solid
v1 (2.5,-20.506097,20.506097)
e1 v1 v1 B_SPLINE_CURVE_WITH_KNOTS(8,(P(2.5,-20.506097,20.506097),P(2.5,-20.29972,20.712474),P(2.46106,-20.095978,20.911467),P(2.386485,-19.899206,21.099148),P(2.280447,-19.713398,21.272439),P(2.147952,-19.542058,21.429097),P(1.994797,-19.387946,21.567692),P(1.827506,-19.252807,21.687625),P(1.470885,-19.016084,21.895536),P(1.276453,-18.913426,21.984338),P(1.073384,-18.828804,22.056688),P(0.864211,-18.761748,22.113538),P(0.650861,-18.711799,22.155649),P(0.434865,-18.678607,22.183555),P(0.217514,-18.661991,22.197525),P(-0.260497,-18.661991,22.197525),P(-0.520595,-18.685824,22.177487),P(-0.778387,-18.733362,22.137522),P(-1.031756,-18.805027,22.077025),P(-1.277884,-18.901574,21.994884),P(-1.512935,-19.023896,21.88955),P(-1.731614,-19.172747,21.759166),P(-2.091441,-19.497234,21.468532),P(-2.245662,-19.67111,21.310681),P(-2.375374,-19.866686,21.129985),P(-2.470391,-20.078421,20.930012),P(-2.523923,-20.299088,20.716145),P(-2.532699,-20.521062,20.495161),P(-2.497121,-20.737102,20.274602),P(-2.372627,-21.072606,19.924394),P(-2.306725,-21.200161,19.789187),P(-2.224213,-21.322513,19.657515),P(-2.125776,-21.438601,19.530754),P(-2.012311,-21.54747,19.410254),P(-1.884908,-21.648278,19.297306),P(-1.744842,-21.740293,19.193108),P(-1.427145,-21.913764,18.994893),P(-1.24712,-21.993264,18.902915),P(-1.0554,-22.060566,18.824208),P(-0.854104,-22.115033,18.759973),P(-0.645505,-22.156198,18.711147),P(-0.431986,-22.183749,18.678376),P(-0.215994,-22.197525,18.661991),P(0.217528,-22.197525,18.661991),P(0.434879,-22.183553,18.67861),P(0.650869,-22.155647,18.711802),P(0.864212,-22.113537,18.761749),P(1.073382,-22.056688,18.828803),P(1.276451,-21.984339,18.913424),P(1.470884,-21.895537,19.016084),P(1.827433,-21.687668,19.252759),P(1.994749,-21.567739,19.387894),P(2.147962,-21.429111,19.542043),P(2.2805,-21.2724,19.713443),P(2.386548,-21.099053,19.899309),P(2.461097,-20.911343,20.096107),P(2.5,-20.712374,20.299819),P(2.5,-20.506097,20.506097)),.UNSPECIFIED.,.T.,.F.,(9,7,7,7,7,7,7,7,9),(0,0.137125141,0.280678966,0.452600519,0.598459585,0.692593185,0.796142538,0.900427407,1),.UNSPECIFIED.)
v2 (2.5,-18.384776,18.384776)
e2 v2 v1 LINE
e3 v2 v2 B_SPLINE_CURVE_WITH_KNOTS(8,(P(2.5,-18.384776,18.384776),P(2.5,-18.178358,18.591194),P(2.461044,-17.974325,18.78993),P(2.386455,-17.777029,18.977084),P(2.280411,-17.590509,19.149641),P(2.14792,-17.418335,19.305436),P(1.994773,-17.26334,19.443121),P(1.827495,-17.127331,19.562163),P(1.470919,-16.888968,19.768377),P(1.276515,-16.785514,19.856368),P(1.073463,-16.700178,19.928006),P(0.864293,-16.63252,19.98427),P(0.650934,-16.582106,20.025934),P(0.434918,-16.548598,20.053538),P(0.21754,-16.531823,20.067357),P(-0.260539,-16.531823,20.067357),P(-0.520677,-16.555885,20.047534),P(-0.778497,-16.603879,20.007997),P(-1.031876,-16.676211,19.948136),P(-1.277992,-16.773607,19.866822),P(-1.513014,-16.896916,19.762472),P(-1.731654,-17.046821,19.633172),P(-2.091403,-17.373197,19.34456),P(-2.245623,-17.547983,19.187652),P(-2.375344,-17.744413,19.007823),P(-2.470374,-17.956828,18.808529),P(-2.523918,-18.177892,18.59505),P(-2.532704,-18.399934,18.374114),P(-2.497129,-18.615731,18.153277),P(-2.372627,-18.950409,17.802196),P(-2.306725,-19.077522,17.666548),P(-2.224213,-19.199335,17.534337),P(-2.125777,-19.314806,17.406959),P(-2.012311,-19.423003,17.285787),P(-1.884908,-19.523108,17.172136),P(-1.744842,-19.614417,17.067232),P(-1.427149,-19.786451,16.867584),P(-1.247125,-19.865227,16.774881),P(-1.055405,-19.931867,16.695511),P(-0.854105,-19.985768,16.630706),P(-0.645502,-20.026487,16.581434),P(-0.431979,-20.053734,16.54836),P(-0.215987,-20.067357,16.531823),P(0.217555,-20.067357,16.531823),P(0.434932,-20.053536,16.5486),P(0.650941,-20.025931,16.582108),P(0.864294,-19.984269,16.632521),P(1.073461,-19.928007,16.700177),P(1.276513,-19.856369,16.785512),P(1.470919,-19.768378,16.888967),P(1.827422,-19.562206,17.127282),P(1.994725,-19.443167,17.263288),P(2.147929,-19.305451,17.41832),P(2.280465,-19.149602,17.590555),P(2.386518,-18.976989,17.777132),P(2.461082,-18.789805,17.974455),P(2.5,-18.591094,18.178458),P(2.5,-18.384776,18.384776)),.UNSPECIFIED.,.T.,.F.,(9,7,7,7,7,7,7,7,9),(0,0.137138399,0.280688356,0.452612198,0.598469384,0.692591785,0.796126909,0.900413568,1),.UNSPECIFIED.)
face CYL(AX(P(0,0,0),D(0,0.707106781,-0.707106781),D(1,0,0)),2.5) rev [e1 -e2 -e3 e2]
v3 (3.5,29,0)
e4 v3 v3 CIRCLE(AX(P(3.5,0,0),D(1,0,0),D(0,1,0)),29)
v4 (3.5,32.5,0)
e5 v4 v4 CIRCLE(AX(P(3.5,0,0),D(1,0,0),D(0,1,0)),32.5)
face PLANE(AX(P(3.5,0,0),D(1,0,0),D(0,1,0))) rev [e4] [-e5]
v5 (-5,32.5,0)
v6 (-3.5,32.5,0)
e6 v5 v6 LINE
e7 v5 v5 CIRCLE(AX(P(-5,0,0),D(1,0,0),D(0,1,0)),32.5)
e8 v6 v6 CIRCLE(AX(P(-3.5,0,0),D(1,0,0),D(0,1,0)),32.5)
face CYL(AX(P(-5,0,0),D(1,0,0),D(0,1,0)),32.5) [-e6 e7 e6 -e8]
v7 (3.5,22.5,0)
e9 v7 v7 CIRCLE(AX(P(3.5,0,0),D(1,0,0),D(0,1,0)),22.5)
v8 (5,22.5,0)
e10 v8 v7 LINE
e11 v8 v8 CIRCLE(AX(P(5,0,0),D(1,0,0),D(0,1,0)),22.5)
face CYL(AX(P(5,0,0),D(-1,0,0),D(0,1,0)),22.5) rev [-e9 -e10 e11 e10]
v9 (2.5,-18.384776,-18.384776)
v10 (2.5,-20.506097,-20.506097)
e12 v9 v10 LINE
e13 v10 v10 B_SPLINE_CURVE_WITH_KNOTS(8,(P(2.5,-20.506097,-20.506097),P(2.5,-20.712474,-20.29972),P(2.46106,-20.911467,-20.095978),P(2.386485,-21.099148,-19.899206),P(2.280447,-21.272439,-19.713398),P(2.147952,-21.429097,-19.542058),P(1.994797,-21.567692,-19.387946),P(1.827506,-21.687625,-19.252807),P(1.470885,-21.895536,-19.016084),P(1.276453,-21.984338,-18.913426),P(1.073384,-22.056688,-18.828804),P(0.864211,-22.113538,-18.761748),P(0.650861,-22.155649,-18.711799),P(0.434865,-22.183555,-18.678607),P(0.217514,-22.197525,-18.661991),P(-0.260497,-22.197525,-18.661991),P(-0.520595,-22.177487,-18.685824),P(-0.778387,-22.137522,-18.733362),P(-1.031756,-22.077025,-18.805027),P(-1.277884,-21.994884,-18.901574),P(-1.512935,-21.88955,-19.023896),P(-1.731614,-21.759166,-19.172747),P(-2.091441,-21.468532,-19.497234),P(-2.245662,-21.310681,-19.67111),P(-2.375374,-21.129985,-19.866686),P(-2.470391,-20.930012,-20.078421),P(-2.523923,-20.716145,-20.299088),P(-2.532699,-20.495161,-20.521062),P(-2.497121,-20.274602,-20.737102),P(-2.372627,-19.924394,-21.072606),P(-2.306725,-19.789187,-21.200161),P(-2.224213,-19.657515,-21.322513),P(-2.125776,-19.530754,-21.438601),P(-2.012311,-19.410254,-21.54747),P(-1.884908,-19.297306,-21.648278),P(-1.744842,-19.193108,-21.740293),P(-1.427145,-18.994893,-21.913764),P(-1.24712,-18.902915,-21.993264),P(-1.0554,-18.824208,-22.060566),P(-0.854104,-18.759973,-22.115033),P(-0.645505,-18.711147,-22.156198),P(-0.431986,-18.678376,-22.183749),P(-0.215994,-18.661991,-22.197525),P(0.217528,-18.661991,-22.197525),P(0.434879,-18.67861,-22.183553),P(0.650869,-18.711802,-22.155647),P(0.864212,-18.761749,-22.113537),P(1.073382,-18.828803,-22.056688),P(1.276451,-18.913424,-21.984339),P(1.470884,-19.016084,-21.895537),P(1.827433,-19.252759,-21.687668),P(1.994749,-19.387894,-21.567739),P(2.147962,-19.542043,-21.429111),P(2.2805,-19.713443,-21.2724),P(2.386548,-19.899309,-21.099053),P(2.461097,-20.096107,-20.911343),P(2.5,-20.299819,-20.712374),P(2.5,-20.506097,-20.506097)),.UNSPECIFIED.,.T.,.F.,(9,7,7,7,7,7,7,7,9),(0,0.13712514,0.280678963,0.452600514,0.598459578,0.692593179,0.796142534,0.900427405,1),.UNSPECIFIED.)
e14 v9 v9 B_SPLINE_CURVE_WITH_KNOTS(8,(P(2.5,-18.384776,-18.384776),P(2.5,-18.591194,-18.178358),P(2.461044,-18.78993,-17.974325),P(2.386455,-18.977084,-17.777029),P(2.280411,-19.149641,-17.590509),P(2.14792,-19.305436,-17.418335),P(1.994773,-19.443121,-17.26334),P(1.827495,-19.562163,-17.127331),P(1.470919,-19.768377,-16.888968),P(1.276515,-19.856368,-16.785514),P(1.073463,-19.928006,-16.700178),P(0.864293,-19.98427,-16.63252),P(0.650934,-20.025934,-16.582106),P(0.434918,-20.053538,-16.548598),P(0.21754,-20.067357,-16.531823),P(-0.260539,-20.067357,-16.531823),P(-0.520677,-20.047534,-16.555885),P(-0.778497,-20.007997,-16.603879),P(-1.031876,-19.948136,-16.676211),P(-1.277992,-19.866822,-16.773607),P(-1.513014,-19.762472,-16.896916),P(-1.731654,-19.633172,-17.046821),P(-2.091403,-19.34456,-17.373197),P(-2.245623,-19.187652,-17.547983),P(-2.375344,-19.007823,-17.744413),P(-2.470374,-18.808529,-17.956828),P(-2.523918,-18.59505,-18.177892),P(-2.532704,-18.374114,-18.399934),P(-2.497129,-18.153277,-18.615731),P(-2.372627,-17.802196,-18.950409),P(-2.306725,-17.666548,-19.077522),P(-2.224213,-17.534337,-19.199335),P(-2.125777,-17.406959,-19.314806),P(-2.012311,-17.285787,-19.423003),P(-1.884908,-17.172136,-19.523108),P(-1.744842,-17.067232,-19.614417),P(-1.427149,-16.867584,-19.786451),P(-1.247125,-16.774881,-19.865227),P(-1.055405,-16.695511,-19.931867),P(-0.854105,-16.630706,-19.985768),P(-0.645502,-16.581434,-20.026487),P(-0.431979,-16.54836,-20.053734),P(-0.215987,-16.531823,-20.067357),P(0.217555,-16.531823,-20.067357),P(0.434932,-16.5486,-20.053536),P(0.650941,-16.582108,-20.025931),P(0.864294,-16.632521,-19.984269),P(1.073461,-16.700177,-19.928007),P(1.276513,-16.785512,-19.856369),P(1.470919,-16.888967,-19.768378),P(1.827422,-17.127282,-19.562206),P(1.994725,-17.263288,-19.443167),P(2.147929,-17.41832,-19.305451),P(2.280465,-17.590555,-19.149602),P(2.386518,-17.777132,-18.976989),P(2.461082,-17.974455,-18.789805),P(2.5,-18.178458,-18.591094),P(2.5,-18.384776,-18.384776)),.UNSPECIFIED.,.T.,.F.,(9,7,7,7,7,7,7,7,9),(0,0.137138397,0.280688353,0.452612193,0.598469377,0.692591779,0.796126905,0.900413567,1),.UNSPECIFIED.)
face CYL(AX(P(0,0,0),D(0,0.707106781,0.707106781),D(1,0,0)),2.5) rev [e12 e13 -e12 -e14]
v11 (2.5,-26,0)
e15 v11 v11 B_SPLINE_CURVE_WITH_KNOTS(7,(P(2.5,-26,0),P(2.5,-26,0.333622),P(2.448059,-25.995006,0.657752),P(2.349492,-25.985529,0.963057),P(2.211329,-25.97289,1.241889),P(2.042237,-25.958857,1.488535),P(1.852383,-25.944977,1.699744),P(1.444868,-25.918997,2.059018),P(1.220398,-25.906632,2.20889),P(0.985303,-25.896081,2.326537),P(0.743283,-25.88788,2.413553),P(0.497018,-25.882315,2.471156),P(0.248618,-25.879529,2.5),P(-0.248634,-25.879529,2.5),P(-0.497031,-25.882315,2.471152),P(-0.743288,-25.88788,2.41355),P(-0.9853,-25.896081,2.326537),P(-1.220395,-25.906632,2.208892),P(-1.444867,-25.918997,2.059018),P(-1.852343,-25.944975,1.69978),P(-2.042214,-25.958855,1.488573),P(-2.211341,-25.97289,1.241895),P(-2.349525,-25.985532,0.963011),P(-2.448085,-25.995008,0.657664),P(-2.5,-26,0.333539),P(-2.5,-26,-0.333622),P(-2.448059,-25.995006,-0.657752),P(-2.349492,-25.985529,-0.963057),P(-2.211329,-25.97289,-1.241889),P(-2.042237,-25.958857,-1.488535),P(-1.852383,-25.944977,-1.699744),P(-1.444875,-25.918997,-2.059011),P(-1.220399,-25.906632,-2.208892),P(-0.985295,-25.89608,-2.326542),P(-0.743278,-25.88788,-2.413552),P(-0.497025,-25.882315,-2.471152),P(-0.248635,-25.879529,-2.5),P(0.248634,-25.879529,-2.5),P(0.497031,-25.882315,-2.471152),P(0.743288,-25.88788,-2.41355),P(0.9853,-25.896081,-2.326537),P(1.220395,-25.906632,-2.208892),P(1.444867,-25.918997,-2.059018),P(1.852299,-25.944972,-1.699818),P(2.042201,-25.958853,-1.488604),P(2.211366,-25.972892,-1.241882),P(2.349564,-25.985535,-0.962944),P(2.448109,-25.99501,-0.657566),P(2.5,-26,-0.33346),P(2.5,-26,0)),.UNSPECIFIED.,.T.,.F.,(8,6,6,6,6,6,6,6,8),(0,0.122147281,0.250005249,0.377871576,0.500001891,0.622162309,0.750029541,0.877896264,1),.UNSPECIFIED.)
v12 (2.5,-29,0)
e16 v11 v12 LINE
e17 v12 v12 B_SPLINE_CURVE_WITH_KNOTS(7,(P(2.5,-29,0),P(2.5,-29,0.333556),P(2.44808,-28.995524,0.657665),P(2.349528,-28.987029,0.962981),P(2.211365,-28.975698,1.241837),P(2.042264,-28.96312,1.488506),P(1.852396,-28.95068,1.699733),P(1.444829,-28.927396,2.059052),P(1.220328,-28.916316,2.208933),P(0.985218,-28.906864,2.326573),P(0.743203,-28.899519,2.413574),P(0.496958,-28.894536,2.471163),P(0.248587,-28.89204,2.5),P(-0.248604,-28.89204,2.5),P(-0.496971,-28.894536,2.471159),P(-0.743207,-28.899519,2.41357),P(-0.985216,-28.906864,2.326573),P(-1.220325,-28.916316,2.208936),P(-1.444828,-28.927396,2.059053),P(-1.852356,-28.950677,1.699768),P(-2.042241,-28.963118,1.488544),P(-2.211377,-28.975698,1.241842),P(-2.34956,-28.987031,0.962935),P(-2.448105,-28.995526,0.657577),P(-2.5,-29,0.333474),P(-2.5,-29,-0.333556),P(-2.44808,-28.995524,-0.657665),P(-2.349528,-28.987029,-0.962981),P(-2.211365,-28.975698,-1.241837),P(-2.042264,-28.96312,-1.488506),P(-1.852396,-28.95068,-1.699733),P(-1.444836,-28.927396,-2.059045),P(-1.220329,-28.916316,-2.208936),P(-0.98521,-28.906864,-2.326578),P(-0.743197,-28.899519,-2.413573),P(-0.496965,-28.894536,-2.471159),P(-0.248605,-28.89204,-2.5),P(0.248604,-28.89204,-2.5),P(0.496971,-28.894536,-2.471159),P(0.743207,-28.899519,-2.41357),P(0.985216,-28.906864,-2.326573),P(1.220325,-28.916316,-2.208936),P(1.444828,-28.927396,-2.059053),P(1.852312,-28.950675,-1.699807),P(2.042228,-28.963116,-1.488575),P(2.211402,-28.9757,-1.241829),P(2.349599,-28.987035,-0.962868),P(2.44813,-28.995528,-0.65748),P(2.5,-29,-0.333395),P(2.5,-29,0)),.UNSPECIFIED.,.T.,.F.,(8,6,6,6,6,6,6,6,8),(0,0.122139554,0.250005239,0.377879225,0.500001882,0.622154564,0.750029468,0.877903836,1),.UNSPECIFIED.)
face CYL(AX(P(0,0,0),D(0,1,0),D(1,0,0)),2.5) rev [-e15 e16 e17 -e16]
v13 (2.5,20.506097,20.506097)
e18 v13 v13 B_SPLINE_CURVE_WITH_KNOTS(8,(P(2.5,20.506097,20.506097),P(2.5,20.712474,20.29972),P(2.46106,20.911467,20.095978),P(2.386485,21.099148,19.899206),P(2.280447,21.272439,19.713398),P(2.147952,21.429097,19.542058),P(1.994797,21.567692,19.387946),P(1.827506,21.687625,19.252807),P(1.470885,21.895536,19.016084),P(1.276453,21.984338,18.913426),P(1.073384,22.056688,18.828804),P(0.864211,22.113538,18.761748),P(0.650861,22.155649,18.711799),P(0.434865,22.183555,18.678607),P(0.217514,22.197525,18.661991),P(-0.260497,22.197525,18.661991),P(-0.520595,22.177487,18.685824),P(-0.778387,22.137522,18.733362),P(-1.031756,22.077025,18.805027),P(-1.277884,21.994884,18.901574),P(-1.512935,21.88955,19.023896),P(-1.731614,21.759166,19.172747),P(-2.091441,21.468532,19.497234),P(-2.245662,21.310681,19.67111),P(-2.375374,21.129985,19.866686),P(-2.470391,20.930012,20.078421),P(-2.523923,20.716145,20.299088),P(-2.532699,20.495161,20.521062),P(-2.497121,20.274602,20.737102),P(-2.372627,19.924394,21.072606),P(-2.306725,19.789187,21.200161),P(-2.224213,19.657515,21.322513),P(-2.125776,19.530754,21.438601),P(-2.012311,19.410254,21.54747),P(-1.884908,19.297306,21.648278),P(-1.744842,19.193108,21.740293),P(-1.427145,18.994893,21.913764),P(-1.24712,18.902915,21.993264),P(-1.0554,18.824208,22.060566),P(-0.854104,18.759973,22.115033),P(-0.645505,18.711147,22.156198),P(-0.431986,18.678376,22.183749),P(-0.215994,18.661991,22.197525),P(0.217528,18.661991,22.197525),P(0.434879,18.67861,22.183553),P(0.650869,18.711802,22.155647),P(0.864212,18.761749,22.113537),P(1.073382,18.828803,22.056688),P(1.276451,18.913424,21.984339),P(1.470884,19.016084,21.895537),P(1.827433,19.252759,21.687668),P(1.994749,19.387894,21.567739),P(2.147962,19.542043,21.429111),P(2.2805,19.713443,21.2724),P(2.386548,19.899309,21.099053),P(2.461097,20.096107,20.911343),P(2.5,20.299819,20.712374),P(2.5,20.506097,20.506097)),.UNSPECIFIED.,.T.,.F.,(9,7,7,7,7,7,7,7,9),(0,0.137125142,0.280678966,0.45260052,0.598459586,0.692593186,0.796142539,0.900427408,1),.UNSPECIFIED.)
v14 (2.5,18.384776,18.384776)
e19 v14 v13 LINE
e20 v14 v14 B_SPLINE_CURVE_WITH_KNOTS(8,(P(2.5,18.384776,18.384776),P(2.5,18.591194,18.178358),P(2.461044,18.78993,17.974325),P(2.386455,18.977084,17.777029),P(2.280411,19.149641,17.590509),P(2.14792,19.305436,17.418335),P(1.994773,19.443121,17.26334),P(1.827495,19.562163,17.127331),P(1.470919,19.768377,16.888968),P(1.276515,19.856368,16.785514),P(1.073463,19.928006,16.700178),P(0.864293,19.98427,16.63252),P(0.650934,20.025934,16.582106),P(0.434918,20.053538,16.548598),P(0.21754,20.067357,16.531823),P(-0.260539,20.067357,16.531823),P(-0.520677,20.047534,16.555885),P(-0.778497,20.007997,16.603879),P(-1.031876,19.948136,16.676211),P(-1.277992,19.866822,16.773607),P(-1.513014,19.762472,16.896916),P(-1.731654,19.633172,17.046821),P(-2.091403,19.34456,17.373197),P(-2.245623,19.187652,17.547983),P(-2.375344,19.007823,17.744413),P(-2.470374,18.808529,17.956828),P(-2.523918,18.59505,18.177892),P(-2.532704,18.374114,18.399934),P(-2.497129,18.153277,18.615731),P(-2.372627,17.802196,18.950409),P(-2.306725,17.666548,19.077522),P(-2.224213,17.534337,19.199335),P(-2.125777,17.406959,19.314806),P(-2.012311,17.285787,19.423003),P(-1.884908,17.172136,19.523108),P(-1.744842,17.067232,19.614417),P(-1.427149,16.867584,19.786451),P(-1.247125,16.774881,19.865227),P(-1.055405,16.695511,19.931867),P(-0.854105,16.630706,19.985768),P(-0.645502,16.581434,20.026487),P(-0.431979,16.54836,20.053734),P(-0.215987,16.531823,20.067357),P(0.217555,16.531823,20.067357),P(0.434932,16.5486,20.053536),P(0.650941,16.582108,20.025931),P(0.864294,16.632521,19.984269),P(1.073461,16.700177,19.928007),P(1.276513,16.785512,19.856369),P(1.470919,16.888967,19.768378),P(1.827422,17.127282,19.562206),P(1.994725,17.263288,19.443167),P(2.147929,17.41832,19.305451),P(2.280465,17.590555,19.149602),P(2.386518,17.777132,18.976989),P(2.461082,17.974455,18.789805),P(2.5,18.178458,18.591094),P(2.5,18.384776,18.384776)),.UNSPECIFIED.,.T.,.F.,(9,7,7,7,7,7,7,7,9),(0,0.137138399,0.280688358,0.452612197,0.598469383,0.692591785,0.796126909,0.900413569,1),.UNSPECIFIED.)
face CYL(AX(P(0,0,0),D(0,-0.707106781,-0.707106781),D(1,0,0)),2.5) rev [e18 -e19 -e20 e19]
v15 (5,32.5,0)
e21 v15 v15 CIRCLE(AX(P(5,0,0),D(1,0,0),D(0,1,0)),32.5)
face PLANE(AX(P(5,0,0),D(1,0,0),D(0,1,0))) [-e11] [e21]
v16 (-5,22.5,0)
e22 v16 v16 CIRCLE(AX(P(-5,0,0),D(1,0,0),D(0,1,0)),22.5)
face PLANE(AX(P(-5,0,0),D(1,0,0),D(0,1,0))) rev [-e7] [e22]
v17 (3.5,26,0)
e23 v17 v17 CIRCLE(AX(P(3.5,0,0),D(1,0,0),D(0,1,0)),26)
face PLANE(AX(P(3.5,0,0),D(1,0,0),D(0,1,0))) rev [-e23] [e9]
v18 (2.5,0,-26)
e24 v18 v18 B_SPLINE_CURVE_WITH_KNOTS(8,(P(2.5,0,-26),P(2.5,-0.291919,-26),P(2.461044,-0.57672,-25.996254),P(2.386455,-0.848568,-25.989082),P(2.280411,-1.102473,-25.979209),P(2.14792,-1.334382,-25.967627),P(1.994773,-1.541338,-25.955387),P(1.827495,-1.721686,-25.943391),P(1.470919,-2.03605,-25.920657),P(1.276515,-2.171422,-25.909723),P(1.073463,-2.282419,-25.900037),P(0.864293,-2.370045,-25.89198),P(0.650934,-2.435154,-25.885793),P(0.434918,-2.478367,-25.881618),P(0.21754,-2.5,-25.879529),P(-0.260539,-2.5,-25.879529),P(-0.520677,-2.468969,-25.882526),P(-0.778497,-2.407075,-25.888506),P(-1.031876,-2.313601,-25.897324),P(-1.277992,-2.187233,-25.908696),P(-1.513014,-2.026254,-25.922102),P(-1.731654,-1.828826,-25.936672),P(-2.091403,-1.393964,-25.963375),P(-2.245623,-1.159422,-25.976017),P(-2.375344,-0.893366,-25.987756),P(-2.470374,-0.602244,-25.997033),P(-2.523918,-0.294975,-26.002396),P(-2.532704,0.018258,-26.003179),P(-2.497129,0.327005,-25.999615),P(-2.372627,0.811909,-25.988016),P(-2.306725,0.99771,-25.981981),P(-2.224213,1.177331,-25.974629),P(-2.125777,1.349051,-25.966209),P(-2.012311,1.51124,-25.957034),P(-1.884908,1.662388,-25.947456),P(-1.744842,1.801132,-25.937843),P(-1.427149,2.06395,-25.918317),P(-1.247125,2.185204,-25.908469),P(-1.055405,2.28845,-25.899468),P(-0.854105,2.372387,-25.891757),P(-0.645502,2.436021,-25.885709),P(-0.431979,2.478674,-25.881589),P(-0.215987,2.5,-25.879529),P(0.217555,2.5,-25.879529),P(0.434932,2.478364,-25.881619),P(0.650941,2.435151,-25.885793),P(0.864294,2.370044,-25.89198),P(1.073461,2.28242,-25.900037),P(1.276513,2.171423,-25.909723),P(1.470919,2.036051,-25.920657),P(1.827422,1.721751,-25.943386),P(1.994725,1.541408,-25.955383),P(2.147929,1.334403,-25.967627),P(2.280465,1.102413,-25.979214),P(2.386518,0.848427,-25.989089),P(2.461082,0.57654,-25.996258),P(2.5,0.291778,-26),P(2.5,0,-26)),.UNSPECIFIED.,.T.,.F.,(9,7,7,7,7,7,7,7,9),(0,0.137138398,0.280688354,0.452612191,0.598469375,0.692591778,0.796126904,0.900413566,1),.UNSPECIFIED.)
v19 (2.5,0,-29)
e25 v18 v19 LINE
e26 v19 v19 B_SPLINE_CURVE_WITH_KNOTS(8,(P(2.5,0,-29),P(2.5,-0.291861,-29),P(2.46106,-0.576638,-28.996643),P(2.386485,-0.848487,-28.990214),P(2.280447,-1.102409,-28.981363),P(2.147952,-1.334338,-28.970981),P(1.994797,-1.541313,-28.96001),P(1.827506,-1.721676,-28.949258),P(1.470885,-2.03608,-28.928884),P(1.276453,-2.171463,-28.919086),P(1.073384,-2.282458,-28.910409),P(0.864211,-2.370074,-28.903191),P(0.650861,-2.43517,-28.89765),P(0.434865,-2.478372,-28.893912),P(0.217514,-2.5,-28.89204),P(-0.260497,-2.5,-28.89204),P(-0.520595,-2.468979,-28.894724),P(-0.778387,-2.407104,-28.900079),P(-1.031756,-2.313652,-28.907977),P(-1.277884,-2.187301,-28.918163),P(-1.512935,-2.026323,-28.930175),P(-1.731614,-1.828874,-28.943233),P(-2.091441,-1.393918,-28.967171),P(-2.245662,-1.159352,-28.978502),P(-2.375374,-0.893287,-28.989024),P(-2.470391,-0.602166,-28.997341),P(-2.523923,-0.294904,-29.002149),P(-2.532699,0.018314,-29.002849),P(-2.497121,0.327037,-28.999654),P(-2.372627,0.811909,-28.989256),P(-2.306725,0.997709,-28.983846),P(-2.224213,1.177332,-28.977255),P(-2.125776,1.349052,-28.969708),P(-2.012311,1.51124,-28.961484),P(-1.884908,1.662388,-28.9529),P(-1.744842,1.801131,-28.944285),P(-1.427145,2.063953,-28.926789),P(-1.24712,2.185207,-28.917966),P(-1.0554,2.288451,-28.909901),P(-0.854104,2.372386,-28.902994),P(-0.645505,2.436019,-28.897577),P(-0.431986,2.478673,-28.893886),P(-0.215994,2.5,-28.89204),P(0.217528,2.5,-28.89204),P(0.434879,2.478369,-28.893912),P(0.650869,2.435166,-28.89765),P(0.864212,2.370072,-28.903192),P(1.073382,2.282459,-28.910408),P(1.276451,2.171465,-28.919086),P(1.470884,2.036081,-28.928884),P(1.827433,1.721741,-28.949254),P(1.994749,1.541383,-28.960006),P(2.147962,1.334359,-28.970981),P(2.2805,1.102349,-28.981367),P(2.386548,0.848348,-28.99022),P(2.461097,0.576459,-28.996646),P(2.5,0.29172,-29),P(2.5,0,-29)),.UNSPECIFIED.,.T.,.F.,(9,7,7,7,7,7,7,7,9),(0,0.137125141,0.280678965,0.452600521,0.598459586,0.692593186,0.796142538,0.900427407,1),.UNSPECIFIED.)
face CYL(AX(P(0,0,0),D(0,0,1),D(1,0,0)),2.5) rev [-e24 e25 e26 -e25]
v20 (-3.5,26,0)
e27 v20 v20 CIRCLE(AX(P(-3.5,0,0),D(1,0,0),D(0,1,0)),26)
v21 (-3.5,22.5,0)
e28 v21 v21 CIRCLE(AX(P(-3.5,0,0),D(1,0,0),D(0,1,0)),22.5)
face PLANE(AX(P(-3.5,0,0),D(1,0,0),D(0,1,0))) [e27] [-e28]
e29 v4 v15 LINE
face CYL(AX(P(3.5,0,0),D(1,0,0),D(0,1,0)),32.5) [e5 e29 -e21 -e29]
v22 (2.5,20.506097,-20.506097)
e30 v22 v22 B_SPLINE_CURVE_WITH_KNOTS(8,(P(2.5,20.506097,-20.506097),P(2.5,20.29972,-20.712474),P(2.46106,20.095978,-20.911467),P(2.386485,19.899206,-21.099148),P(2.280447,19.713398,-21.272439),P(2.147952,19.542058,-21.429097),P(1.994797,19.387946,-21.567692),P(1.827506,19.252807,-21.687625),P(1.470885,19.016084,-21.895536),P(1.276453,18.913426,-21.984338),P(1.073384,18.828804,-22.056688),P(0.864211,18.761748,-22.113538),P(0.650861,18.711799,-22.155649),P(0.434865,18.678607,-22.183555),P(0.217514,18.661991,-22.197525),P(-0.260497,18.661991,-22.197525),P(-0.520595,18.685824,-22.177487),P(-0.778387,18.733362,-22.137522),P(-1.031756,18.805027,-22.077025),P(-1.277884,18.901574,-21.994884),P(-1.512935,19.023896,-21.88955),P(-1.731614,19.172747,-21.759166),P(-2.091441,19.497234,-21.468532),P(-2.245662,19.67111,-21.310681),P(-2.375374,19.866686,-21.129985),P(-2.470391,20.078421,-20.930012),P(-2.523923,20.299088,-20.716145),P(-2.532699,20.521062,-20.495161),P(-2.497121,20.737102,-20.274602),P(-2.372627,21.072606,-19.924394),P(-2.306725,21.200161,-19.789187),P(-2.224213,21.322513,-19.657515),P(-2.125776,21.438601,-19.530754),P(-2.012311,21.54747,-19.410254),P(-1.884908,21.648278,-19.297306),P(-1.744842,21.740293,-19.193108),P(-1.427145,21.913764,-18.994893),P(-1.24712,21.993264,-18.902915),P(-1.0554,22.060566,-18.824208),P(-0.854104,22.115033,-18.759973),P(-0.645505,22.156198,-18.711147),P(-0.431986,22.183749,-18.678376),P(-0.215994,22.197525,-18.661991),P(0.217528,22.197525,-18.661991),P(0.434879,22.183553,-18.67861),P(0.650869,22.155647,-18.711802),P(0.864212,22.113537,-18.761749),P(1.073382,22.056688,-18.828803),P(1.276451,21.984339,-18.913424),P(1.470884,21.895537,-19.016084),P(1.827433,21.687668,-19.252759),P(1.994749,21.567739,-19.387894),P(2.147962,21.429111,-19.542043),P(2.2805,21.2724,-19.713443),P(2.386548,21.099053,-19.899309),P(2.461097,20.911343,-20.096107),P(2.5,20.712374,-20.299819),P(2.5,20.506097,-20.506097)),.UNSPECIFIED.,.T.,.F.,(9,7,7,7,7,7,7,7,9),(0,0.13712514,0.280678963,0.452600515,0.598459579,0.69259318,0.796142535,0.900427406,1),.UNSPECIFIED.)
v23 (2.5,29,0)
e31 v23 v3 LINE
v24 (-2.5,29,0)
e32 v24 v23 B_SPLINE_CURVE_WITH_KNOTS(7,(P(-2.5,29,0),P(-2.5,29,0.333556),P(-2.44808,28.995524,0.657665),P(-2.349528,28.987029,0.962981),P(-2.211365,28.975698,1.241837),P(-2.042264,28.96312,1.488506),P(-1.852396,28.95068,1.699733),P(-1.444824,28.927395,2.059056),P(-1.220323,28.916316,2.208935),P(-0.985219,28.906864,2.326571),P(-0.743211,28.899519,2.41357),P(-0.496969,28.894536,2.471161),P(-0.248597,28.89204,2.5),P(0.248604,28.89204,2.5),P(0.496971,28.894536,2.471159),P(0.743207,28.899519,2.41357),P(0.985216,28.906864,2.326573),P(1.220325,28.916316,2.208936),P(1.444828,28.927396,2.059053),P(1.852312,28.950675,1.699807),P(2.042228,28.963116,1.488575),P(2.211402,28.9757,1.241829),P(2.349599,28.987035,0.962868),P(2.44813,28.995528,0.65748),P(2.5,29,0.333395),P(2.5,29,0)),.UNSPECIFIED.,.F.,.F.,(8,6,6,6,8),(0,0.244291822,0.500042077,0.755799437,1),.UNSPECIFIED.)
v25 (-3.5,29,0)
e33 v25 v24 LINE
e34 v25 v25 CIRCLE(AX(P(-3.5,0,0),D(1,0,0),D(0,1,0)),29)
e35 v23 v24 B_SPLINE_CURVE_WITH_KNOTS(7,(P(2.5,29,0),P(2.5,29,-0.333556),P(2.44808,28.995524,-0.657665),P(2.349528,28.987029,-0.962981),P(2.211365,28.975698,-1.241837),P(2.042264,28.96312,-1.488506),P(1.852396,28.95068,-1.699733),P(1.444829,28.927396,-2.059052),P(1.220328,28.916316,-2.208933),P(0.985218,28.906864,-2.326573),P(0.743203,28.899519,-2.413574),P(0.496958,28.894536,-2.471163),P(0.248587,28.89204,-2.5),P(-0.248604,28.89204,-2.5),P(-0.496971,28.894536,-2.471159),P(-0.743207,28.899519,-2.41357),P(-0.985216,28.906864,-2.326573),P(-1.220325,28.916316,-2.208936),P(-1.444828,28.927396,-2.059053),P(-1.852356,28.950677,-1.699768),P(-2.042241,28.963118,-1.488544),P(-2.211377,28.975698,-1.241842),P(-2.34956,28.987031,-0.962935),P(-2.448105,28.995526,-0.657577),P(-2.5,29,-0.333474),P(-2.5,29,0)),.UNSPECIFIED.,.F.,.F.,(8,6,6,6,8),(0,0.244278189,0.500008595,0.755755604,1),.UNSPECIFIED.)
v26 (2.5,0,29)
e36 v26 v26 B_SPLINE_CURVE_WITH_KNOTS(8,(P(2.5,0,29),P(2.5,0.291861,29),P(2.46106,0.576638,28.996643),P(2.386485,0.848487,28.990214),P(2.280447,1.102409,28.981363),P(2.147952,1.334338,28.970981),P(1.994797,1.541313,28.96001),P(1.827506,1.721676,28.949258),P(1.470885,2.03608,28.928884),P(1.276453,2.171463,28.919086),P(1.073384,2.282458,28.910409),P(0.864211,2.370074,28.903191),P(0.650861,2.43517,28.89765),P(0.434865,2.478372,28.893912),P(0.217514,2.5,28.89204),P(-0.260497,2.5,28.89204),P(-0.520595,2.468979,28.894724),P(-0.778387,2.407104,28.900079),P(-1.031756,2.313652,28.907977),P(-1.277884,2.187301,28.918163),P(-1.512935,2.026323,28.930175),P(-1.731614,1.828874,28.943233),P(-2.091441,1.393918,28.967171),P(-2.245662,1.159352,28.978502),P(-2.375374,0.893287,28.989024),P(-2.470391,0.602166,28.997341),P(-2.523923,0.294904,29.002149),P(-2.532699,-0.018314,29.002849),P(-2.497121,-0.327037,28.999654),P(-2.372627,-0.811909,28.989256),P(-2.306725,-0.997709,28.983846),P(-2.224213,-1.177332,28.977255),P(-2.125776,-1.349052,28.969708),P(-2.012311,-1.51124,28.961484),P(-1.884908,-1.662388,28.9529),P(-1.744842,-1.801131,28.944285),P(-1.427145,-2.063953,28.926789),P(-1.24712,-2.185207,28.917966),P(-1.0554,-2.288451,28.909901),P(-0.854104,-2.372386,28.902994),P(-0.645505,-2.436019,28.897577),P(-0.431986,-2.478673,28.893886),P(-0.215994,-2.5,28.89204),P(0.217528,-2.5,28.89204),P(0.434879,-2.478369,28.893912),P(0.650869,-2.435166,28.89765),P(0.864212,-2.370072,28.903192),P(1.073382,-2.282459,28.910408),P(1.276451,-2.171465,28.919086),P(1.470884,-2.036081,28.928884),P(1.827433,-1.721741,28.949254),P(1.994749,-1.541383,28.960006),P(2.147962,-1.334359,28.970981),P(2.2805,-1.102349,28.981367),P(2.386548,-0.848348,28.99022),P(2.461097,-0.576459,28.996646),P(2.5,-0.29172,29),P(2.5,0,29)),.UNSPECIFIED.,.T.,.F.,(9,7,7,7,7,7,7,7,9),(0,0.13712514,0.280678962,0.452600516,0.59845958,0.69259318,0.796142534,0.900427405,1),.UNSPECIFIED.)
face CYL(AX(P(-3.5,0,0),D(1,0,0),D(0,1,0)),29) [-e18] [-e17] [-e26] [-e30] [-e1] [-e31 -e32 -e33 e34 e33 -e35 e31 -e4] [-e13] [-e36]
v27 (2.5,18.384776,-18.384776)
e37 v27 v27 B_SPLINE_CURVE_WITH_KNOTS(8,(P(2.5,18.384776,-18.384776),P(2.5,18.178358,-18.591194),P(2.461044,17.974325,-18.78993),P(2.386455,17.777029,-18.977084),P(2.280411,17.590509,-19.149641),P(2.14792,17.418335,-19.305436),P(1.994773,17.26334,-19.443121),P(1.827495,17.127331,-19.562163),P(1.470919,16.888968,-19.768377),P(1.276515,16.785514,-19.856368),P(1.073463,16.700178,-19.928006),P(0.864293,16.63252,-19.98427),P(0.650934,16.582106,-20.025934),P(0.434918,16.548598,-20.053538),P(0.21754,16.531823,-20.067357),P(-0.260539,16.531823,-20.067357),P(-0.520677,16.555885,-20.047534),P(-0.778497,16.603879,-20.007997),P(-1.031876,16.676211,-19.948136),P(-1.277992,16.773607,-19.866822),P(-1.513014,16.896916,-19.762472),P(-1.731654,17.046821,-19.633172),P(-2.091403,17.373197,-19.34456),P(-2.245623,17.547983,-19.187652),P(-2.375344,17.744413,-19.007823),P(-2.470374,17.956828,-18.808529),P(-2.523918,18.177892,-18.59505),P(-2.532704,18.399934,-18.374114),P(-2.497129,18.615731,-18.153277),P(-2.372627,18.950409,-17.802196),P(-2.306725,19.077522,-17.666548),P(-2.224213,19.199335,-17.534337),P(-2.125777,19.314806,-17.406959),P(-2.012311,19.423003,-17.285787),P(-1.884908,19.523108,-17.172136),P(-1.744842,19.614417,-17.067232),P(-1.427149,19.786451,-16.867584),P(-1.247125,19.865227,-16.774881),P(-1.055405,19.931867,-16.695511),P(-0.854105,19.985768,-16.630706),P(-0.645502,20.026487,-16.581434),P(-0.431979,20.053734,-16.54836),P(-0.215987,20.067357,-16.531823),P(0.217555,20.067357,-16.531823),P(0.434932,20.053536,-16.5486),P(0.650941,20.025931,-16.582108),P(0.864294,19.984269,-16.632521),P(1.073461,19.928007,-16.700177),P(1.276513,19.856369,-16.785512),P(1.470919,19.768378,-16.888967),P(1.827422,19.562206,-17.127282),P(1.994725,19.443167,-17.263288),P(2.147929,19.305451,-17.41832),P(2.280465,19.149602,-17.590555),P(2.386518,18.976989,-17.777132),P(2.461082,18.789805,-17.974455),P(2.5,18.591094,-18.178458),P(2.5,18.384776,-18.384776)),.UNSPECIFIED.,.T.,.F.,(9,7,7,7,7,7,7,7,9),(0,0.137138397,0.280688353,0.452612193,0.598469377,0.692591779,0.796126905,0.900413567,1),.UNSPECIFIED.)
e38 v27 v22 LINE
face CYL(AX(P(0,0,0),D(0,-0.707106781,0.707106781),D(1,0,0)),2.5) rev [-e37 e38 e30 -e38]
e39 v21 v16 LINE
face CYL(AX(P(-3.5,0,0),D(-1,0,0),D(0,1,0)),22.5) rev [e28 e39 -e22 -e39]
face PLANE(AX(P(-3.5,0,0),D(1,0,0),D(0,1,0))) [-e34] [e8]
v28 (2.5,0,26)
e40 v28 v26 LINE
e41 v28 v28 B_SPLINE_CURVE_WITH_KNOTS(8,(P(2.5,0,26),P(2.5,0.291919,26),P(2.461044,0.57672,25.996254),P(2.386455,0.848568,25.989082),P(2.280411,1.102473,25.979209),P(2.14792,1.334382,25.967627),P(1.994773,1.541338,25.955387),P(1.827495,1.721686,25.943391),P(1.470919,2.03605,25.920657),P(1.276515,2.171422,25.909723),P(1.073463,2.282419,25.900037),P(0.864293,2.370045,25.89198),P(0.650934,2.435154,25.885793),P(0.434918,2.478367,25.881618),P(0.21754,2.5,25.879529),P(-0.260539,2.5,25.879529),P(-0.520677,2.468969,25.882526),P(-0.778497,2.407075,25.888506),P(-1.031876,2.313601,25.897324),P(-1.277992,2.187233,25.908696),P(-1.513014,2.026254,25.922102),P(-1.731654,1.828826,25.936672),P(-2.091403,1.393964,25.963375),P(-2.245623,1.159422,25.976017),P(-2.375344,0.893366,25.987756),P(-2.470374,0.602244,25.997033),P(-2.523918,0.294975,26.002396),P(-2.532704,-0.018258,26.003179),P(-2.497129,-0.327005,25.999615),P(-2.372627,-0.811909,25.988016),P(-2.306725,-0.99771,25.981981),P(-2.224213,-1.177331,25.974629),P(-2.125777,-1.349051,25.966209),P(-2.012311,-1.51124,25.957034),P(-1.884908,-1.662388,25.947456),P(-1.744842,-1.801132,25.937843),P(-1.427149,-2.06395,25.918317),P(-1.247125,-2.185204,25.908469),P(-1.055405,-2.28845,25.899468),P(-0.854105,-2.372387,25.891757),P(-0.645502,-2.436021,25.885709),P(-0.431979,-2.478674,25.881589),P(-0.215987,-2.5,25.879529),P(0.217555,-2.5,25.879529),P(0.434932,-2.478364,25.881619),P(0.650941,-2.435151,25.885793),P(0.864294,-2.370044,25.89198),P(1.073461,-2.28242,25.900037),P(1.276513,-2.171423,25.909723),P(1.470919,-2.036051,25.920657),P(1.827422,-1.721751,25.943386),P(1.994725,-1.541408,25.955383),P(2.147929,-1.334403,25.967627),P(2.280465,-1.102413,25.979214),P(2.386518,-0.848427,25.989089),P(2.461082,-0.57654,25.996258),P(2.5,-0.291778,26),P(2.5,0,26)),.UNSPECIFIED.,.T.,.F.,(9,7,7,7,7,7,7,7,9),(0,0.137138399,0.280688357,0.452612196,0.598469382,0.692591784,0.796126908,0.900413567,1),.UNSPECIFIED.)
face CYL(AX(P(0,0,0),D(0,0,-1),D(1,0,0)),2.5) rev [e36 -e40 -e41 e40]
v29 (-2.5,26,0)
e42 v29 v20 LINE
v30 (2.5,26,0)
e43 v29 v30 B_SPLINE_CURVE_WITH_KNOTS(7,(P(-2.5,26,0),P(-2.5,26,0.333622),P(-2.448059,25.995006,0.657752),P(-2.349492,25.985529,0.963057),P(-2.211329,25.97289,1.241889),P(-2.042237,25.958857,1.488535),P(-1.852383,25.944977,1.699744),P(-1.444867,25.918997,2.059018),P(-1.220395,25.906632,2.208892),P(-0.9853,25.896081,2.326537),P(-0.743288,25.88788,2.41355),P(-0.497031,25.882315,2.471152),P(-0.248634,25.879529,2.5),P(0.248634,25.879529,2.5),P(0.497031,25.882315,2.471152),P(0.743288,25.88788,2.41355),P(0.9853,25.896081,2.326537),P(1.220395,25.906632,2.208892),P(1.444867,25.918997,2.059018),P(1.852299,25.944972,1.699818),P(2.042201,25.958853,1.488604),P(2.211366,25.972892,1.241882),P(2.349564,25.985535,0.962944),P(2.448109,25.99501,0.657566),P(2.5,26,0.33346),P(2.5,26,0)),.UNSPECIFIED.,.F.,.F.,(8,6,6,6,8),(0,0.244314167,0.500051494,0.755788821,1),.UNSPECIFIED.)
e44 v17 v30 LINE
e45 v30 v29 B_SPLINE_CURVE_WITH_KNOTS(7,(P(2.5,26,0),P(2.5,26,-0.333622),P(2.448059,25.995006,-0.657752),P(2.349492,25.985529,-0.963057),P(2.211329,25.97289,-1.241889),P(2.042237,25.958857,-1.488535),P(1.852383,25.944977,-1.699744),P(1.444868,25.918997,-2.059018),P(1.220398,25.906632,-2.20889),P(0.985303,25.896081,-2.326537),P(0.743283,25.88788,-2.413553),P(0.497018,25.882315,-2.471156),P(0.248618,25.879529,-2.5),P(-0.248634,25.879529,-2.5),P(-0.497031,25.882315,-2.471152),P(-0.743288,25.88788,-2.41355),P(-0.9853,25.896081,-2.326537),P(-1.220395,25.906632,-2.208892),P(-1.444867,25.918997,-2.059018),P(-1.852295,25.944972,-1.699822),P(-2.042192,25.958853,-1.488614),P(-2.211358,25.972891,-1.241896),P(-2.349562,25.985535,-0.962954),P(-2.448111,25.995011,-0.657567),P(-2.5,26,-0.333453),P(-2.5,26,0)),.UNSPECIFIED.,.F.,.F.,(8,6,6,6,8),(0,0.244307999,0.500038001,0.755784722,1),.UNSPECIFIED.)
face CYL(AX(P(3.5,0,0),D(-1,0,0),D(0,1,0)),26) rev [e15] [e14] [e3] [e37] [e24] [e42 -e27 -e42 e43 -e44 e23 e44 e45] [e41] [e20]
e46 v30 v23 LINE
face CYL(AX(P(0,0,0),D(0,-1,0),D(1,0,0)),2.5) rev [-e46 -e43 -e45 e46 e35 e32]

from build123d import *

# Parameters (mm, degrees)
SKETCH2_R          = 2.5
CUT_EXTRUDE1_DEPTH = 33.5
CIRPATTERN1_COUNT  = 8


with BuildPart() as part:
    # Sketch1 → Revolve1 (revolve)
    with BuildSketch(Plane.XY):
        Polygon((-3.5, 29), (3.5, 29), (3.5, 32.5), (5, 32.5), (5, 22.5), (3.5, 22.5), (3.5, 26), (-3.5, 26), (-3.5, 22.5), (-5, 22.5), (-5, 32.5), (-3.5, 32.5), align=None)
    revolve(axis=Axis((-5.608551002, 0, 0), (1, 0, 0)))

    # Sketch2 → Cut-Extrude1 (cut, through all)
    with BuildSketch(Plane(origin=(0, 0, 0), x_dir=(1, 0, 0), z_dir=(0, 1, 0))):
        Circle(SKETCH2_R)
    cut_extrude1 = extrude(amount=CUT_EXTRUDE1_DEPTH, mode=Mode.SUBTRACT)

    # CirPattern1: Cut-Extrude1 ×8 about axis
    cirpattern1_axis = Axis((-5.608551002, 0, 0), (-1, 0, 0))
    for i in range(1, CIRPATTERN1_COUNT):
        add(cut_extrude1.rotate(cirpattern1_axis, i * 360 / CIRPATTERN1_COUNT), mode=Mode.SUBTRACT)


solid = part.part
